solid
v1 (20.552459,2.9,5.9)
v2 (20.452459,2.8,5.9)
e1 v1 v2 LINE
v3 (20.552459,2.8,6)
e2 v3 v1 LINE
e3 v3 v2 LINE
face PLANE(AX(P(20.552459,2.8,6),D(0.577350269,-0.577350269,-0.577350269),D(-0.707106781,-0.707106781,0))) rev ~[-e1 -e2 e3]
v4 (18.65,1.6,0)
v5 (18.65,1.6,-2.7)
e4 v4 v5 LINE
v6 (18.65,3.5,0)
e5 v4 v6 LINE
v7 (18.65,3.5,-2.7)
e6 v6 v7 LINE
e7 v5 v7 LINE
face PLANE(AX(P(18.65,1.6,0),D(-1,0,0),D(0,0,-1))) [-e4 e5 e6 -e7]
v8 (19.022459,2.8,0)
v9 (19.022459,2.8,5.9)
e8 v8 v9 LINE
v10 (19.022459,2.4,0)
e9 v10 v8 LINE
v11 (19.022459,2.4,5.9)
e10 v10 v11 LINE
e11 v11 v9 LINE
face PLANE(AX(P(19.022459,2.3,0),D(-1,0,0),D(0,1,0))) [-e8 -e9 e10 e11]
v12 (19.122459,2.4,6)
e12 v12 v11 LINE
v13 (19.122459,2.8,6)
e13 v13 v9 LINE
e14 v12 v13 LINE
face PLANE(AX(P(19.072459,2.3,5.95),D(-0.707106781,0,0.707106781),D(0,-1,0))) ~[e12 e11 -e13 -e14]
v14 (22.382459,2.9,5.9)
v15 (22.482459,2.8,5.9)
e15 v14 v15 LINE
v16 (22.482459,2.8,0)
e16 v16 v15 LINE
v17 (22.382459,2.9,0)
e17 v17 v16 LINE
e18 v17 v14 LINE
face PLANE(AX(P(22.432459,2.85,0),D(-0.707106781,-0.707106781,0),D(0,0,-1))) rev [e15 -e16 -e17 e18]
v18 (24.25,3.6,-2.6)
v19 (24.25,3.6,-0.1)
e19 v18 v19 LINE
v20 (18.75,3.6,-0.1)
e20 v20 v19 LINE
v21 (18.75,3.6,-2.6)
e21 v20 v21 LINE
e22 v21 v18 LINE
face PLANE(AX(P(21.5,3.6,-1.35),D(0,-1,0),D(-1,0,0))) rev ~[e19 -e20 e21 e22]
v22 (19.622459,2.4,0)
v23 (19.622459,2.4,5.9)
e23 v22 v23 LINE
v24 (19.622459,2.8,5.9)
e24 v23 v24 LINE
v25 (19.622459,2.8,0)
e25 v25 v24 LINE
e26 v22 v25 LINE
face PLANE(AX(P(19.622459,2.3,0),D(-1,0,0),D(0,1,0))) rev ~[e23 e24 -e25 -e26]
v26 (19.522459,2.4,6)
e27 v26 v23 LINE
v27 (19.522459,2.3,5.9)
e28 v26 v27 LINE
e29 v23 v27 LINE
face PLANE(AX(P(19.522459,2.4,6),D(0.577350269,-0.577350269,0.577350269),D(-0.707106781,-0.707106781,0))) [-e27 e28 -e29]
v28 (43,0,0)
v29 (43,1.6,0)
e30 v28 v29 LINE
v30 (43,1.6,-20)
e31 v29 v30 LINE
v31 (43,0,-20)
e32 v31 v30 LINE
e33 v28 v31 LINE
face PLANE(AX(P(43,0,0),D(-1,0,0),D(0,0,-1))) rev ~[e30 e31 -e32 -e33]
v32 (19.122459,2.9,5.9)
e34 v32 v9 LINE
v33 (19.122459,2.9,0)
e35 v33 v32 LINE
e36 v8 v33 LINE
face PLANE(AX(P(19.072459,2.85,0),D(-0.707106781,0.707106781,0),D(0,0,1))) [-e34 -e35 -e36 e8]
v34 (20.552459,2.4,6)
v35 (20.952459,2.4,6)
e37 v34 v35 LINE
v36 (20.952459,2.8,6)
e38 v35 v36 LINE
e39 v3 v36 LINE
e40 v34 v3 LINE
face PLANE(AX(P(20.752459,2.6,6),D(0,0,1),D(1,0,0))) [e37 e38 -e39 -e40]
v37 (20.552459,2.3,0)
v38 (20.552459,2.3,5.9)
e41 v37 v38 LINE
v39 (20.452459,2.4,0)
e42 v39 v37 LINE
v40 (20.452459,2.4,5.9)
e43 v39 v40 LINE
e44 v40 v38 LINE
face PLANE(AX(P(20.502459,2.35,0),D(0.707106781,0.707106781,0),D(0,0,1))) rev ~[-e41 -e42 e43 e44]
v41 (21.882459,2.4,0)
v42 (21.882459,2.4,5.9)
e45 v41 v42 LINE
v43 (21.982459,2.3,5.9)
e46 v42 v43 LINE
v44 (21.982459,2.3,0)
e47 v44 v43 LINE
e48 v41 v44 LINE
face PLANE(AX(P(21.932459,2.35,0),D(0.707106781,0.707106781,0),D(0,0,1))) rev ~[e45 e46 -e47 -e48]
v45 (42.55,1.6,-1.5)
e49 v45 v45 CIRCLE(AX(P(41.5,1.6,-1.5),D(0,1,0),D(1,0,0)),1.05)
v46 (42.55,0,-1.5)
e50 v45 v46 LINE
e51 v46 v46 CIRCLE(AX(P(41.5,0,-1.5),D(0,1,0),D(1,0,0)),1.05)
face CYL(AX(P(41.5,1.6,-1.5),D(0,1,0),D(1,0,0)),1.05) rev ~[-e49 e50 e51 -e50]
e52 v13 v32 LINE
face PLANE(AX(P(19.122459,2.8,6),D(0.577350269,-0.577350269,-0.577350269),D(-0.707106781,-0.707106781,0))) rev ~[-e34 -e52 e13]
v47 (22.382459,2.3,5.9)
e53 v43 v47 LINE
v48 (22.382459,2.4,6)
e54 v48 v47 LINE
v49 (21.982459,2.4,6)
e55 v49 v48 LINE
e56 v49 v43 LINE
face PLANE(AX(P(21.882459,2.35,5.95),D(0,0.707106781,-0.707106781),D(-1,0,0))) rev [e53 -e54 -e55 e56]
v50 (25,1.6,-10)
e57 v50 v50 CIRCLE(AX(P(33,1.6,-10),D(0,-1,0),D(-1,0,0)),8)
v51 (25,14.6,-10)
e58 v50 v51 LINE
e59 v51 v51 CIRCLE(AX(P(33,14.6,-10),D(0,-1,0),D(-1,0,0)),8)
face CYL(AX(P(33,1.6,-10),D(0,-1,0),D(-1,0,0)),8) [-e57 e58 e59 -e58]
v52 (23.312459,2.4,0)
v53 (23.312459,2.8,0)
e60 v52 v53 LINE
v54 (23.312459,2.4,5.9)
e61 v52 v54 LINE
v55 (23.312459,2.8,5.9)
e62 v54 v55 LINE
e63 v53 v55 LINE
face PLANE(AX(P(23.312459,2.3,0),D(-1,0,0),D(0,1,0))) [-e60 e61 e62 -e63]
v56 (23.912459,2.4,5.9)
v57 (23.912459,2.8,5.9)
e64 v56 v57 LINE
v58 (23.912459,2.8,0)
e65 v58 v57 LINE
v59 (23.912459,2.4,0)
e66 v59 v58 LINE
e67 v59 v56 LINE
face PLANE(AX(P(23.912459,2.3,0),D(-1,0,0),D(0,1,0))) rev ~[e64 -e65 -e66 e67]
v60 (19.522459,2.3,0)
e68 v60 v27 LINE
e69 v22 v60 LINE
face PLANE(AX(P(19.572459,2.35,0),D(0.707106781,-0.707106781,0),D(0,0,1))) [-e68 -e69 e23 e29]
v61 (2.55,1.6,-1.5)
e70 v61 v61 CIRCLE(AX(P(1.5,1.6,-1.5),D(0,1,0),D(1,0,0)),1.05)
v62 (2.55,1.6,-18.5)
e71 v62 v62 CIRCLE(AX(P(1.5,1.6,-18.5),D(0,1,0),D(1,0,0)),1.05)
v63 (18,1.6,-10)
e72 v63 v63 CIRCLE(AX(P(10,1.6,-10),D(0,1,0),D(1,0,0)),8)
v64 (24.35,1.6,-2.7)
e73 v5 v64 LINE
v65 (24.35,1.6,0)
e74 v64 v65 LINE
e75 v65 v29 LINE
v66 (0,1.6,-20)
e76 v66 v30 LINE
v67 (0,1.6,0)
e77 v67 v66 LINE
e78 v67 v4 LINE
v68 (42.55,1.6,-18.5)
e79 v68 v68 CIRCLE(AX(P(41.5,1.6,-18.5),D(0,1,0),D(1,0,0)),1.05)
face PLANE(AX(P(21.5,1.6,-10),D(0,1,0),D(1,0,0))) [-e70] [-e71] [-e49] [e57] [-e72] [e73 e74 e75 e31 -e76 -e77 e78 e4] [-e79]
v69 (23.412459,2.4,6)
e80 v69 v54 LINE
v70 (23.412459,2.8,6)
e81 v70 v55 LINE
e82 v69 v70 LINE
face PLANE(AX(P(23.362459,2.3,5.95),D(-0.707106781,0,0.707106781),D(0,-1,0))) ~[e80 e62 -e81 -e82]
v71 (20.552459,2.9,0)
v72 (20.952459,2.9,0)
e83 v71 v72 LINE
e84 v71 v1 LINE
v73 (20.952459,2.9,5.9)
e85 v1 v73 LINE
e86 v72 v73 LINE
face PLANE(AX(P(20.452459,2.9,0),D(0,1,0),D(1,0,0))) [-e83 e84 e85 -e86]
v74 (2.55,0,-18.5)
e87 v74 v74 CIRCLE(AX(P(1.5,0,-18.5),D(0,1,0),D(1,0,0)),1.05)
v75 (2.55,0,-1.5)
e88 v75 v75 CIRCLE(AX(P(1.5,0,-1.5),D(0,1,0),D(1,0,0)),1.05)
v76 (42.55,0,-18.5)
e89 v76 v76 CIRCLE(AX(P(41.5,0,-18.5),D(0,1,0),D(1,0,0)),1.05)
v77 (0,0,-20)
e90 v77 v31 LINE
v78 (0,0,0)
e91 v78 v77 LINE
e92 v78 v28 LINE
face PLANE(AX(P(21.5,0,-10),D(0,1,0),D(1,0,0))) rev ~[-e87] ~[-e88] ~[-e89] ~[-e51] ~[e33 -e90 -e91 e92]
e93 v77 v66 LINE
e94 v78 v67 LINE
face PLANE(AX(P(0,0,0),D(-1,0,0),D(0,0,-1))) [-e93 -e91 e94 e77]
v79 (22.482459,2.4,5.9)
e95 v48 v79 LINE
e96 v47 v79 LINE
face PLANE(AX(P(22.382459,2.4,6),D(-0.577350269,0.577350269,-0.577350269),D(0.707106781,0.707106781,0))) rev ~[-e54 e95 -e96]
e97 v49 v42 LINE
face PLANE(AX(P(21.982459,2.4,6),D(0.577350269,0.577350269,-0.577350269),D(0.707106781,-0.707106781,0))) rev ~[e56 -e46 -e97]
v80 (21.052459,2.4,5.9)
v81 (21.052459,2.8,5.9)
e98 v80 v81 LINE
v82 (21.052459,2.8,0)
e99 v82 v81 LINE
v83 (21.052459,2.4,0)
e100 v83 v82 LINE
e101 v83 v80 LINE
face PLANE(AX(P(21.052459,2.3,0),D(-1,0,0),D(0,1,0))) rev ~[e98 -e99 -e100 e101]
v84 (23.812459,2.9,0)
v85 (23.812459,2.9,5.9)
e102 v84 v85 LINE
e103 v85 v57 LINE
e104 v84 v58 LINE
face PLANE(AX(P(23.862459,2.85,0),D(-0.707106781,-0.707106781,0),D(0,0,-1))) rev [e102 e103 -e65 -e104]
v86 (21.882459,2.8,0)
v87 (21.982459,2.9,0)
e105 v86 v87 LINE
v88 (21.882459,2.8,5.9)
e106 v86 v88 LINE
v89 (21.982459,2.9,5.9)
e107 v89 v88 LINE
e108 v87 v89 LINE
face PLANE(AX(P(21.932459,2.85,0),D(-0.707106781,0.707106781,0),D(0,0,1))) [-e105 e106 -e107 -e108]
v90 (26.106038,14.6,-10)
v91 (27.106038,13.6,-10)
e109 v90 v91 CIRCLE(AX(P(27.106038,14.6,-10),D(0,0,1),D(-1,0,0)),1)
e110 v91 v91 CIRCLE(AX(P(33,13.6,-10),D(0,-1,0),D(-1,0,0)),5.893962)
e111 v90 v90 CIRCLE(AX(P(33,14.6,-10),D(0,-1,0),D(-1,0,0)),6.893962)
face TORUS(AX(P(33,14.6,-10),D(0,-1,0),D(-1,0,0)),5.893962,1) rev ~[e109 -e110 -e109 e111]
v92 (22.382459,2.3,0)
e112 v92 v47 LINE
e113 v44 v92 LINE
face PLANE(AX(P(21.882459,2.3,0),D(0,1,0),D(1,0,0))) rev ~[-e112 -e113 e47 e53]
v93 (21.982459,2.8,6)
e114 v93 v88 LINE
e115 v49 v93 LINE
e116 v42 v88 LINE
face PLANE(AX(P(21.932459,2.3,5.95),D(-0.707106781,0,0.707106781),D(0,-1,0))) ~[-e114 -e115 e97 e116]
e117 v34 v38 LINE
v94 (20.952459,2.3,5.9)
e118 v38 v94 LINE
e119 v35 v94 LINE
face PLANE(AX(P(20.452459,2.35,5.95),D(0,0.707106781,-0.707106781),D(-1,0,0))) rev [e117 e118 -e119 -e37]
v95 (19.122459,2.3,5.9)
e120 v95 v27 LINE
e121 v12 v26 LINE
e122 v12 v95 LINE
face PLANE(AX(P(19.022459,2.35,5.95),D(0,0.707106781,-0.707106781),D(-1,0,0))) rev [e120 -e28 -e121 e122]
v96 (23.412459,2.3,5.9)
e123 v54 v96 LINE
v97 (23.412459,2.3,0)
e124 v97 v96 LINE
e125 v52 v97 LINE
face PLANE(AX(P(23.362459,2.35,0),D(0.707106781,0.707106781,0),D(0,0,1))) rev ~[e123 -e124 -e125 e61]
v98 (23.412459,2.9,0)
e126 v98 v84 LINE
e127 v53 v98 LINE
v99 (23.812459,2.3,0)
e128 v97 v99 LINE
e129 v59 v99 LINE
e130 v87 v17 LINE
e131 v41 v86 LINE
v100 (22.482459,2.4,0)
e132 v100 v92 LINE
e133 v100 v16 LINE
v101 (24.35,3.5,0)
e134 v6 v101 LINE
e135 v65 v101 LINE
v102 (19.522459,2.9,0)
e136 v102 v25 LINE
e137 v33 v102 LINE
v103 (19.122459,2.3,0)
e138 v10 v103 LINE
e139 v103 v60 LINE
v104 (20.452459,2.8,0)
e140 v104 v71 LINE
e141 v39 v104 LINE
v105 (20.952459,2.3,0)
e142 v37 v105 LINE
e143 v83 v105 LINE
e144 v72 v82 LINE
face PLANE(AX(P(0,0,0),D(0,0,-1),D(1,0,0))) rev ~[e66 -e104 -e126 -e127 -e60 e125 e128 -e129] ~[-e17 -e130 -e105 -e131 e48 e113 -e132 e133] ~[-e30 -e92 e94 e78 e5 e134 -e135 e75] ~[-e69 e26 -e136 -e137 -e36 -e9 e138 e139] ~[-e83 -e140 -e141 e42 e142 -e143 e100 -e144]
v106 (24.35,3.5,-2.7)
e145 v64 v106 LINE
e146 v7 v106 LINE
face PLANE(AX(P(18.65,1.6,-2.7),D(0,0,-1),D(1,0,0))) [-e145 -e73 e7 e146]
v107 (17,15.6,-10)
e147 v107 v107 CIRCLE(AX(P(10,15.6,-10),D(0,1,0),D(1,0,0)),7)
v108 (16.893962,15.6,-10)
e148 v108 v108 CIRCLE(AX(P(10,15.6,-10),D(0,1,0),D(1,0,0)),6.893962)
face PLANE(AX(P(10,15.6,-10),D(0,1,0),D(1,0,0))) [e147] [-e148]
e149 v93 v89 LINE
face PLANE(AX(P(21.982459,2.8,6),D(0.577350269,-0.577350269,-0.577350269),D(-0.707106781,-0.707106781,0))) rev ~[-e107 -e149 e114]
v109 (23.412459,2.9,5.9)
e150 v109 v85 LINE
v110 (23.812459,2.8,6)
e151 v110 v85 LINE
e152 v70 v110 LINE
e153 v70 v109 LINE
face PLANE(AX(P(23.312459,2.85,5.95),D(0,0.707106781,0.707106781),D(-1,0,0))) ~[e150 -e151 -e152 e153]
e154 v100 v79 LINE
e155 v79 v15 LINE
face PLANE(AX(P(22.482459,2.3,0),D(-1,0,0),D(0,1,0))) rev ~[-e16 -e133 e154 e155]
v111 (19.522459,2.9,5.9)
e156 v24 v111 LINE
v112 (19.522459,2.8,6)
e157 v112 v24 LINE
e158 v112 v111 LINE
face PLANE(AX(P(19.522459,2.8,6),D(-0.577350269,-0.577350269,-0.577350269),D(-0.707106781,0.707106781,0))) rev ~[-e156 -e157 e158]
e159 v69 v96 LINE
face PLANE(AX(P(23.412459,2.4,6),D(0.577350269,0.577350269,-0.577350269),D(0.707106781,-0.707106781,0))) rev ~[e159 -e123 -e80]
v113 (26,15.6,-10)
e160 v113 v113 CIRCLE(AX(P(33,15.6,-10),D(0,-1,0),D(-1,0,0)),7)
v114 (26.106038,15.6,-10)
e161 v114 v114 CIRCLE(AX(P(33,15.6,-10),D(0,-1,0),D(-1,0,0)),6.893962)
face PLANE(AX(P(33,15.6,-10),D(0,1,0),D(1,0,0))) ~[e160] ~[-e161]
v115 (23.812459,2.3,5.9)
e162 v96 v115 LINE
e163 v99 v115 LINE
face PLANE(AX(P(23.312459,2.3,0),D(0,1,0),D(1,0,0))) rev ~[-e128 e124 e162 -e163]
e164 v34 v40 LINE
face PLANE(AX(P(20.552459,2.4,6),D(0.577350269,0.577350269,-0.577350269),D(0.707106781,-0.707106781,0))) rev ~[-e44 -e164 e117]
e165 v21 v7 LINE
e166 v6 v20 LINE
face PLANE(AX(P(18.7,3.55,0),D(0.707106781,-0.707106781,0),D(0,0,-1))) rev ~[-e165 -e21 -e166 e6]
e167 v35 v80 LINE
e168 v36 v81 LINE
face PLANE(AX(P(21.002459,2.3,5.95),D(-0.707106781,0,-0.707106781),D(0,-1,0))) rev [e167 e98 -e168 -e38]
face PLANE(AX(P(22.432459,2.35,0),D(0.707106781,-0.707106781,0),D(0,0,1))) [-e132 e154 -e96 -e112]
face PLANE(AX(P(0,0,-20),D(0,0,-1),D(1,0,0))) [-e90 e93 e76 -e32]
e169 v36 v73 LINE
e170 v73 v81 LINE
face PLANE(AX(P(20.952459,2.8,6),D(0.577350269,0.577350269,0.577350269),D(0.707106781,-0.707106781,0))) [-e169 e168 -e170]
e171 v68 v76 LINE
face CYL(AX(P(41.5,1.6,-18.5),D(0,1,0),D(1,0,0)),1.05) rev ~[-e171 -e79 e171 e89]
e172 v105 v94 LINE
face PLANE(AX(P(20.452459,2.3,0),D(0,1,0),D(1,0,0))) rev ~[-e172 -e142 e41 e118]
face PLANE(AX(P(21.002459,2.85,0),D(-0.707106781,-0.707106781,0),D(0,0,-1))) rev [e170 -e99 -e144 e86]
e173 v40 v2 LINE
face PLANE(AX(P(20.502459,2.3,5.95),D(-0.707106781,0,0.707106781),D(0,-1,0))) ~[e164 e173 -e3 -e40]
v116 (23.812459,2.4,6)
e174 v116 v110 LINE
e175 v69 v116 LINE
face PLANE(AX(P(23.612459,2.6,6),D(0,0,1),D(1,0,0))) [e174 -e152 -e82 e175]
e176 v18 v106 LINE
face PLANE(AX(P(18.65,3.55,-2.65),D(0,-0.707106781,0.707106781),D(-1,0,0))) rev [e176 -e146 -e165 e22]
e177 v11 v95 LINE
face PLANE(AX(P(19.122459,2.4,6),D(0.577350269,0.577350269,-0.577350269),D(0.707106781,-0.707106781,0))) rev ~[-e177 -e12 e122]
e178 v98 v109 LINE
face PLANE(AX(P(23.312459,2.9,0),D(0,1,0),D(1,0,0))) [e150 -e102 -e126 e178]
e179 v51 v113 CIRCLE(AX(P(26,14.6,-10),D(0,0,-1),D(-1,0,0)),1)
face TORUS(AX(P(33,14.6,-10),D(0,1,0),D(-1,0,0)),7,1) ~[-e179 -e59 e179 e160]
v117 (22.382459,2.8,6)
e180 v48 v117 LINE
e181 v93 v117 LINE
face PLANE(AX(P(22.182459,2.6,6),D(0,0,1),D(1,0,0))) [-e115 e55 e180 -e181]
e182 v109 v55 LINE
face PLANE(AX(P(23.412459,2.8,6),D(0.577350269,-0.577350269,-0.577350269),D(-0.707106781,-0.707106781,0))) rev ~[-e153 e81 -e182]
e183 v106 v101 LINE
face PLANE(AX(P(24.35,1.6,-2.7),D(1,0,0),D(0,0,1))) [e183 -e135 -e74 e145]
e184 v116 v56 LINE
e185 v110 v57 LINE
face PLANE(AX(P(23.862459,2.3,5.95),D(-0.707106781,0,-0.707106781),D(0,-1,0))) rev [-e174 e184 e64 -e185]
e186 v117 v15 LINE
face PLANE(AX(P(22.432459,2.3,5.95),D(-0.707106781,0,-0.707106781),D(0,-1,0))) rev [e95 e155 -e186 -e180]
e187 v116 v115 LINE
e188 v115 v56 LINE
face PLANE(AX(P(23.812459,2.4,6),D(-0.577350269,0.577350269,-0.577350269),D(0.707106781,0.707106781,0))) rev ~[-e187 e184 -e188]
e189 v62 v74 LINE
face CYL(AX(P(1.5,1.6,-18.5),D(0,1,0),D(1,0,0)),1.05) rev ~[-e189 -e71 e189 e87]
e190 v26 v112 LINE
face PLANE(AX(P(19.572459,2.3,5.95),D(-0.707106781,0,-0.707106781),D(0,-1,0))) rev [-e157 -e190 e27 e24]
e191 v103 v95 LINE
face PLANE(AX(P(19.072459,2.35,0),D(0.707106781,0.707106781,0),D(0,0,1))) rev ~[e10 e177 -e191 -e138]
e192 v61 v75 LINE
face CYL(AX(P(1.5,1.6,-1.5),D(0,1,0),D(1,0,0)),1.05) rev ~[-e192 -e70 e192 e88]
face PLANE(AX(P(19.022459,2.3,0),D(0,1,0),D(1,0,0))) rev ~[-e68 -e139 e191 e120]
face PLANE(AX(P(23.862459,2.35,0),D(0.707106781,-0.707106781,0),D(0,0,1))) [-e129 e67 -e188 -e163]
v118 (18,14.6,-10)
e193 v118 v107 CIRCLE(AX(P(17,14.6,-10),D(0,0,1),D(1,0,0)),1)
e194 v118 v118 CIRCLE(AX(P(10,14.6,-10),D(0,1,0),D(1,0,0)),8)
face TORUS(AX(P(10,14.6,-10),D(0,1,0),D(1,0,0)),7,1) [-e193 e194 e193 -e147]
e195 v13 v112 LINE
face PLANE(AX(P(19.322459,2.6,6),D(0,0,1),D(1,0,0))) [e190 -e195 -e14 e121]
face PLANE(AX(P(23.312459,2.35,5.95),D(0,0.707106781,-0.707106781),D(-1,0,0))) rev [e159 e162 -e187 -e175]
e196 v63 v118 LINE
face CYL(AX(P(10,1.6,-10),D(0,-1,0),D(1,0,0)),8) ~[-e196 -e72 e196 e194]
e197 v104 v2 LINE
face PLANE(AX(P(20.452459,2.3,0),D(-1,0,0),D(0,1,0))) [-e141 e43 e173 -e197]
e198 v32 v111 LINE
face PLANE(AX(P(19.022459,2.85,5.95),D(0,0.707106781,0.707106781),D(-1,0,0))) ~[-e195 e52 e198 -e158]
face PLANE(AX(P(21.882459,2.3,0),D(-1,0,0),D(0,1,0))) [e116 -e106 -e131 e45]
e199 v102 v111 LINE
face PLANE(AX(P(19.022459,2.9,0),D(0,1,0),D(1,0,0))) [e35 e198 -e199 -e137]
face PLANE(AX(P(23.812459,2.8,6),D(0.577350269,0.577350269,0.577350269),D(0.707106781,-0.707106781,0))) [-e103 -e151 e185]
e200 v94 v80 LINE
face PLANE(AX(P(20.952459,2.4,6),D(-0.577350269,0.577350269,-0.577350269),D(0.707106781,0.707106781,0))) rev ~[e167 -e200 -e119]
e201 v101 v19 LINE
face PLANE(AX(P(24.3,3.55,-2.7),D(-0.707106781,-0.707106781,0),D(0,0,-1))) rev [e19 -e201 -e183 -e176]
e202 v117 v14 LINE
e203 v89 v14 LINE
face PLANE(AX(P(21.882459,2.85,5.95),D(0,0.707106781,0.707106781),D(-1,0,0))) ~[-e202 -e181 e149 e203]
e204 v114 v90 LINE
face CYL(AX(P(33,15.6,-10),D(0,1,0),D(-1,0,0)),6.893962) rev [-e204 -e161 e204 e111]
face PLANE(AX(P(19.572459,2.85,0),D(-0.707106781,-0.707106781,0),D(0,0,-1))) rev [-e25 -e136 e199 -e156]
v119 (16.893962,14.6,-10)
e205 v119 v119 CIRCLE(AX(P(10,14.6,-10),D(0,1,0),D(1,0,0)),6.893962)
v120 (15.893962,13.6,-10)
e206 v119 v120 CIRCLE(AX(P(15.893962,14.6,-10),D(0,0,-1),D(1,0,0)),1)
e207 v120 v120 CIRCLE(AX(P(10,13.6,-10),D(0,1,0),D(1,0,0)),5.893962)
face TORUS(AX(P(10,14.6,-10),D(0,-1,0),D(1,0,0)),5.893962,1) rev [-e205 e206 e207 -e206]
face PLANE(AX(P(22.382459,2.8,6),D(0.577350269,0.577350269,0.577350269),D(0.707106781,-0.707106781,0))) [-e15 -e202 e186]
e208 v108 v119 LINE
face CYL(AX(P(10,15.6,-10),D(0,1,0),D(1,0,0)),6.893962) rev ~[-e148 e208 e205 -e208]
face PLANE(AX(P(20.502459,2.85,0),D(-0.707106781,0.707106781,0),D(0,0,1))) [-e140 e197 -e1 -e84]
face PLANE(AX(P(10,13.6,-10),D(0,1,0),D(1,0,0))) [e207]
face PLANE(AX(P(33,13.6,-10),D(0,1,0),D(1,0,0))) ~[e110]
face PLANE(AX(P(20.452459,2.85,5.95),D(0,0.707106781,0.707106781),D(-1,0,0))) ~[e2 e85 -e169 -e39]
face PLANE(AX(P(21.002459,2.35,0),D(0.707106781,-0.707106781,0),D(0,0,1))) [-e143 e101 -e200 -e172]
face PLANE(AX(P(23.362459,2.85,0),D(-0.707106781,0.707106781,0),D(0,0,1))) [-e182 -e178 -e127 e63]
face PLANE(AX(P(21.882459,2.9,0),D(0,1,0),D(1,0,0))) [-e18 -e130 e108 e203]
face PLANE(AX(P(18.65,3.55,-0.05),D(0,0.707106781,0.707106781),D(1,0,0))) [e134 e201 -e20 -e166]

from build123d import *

# Parameters (mm, degrees)
SKETCH1_W            = 43
SKETCH1_H            = 20
BOSS_EXTRUDE1_DEPTH  = 1.6
SKETCH2_R            = 8
BOSS_EXTRUDE2_DEPTH  = 14
SKETCH3_R            = 6.893962295
CUT_EXTRUDE1_DEPTH   = 2
FILLET1_R            = 1
FILLET2_R            = 1
FILLET1_OF_MIRROR1_R = 1
FILLET2_OF_MIRROR1_R = 1
BOSS_EXTRUDE3_DEPTH  = 2
SKETCH5_W            = 0.6
SKETCH5_H            = 0.6
BOSS_EXTRUDE4_DEPTH  = 6
CHAMFER1_SIZE        = 0.1
CHAMFER2_SIZE        = 0.1
CUT_EXTRUDE2_REACH   = 51.447
SKETCH6_R            = 1.05


with BuildPart() as part:
    # Sketch1 → Boss-Extrude1 (new body)
    with BuildSketch(Plane(origin=(0, 0, 0), x_dir=(1, 0, 0), z_dir=(0, 1, 0))):
        with Locations((21.5, 10)):
            Rectangle(SKETCH1_W, SKETCH1_H)
    extrude(amount=BOSS_EXTRUDE1_DEPTH)

    # Sketch2 → Boss-Extrude2 (add)
    with BuildSketch(Plane(origin=(0, 1.6, 0), x_dir=(1, 0, 0), z_dir=(0, 1, 0))):
        with Locations((10, 10)):
            Circle(SKETCH2_R)
    boss_extrude2 = extrude(amount=BOSS_EXTRUDE2_DEPTH)

    # Sketch3 → Cut-Extrude1 (cut)
    with BuildSketch(Plane(origin=(0, 15.6, 0), x_dir=(1, 0, 0), z_dir=(0, 1, 0))):
        with Locations((10, 10)):
            Circle(SKETCH3_R)
    cut_extrude1 = extrude(amount=-CUT_EXTRUDE1_DEPTH, mode=Mode.SUBTRACT)

    # Fillet1
    fillet1_edges = [part.edges().sort_by_distance(p)[0] for p in [
        (2, 15.6, -10),
    ]]
    fillet(fillet1_edges, radius=FILLET1_R)

    # Fillet2
    fillet2_edges = [part.edges().sort_by_distance(p)[0] for p in [
        (3.106037705, 13.6, -10),
    ]]
    fillet(fillet2_edges, radius=FILLET2_R)

    # Mirror1: Boss-Extrude2, Cut-Extrude1 across plane
    add(boss_extrude2.mirror(Plane(origin=(21.5, 0, 0), x_dir=(0, 0, 1), z_dir=(1, 0, 0))))
    add(cut_extrude1.mirror(Plane(origin=(21.5, 0, 0), x_dir=(0, 0, 1), z_dir=(1, 0, 0))), mode=Mode.SUBTRACT)

    # Fillet1 of Mirror1
    fillet1_of_mirror1_edges = [part.edges().sort_by_distance(p)[0] for p in [
        (41, 15.6, -10),
    ]]
    fillet(fillet1_of_mirror1_edges, radius=FILLET1_OF_MIRROR1_R)

    # Fillet2 of Mirror1
    fillet2_of_mirror1_edges = [part.edges().sort_by_distance(p)[0] for p in [
        (39.893962295, 13.6, -10),
    ]]
    fillet(fillet2_of_mirror1_edges, radius=FILLET2_OF_MIRROR1_R)

    # Sketch4 → Boss-Extrude3 (add)
    with BuildSketch(Plane(origin=(0, 1.6, 0), x_dir=(1, 0, 0), z_dir=(0, 1, 0))):
        Polygon((21.5, 0), (18.65, 0), (18.65, 2.7), (24.35, 2.7), (24.35, 0), align=None)
    extrude(amount=BOSS_EXTRUDE3_DEPTH)

    # Sketch5 → Boss-Extrude4 (add)
    with BuildSketch(Plane.XY):
        with Locations((19.322458837, 2.6)):
            Rectangle(SKETCH5_W, SKETCH5_H)
        with Locations((20.752458837, 2.6)):
            Rectangle(SKETCH5_W, SKETCH5_H)
        with Locations((22.182458837, 2.6)):
            Rectangle(SKETCH5_W, SKETCH5_H)
        with Locations((23.612458837, 2.6)):
            Rectangle(SKETCH5_W, SKETCH5_H)
    extrude(amount=BOSS_EXTRUDE4_DEPTH)

    # Chamfer1
    chamfer1_edges = [part.edges().sort_by_distance(p)[0] for p in [
        (23.912458837, 2.6, 6),
        (23.912458837, 2.3, 3),
        (23.612458837, 2.3, 6),
        (23.312458837, 2.3, 3),
        (23.312458837, 2.6, 6),
        (23.912458837, 2.9, 3),
        (23.612458837, 2.9, 6),
        (23.312458837, 2.9, 3),
        (22.482458837, 2.6, 6),
        (22.482458837, 2.3, 3),
        (22.182458837, 2.3, 6),
        (21.882458837, 2.3, 3),
        (21.882458837, 2.6, 6),
        (21.882458837, 2.9, 3),
        (22.182458837, 2.9, 6),
        (22.482458837, 2.9, 3),
        (21.052458837, 2.6, 6),
        (21.052458837, 2.3, 3),
        (20.752458837, 2.3, 6),
        (20.452458837, 2.3, 3),
        (20.452458837, 2.6, 6),
        (21.052458837, 2.9, 3),
        (20.752458837, 2.9, 6),
        (20.452458837, 2.9, 3),
        (19.322458837, 2.3, 6),
        (19.022458837, 2.3, 3),
        (19.022458837, 2.6, 6),
        (19.022458837, 2.9, 3),
        (19.322458837, 2.9, 6),
        (19.622458837, 2.3, 3),
        (19.622458837, 2.6, 6),
        (19.622458837, 2.9, 3),
    ]]
    chamfer(chamfer1_edges, length=CHAMFER1_SIZE)

    # Chamfer2
    chamfer2_edges = [part.edges().sort_by_distance(p)[0] for p in [
        (18.65, 3.6, -1.35),
        (21.5, 3.6, -2.7),
        (24.35, 3.6, -1.35),
        (21.5, 3.6, 0),
    ]]
    chamfer(chamfer2_edges, length=CHAMFER2_SIZE)

    # Sketch6 → Cut-Extrude2 (cut, up to next)
    with BuildSketch(Plane(origin=(0, 1.6, 0), x_dir=(1, 0, 0), z_dir=(0, 1, 0)), mode=Mode.PRIVATE) as cut_extrude2_sk1:
        with Locations((1.5, 18.5)):
            Circle(SKETCH6_R)
    cut_extrude2_tool1 = extrude(cut_extrude2_sk1.sketch, amount=-CUT_EXTRUDE2_REACH, mode=Mode.PRIVATE) & part.part
    # Sketch6 → Cut-Extrude2 (cut, up to next)
    with BuildSketch(Plane(origin=(0, 1.6, 0), x_dir=(1, 0, 0), z_dir=(0, 1, 0)), mode=Mode.PRIVATE) as cut_extrude2_sk2:
        with Locations((1.5, 1.5)):
            Circle(SKETCH6_R)
    cut_extrude2_tool2 = extrude(cut_extrude2_sk2.sketch, amount=-CUT_EXTRUDE2_REACH, mode=Mode.PRIVATE) & part.part
    # Sketch6 → Cut-Extrude2 (cut, up to next)
    with BuildSketch(Plane(origin=(0, 1.6, 0), x_dir=(1, 0, 0), z_dir=(0, 1, 0)), mode=Mode.PRIVATE) as cut_extrude2_sk3:
        with Locations((41.5, 1.5)):
            Circle(SKETCH6_R)
    cut_extrude2_tool3 = extrude(cut_extrude2_sk3.sketch, amount=-CUT_EXTRUDE2_REACH, mode=Mode.PRIVATE) & part.part
    # Sketch6 → Cut-Extrude2 (cut, up to next)
    with BuildSketch(Plane(origin=(0, 1.6, 0), x_dir=(1, 0, 0), z_dir=(0, 1, 0)), mode=Mode.PRIVATE) as cut_extrude2_sk4:
        with Locations((41.5, 18.5)):
            Circle(SKETCH6_R)
    cut_extrude2_tool4 = extrude(cut_extrude2_sk4.sketch, amount=-CUT_EXTRUDE2_REACH, mode=Mode.PRIVATE) & part.part
    add(cut_extrude2_tool1.solids().sort_by_distance((1.5, 1.6, -18.5))[0], mode=Mode.SUBTRACT)
    add(cut_extrude2_tool2.solids().sort_by_distance((1.5, 1.6, -1.5))[0], mode=Mode.SUBTRACT)
    add(cut_extrude2_tool3.solids().sort_by_distance((41.5, 1.6, -1.5))[0], mode=Mode.SUBTRACT)
    add(cut_extrude2_tool4.solids().sort_by_distance((41.5, 1.6, -18.5))[0], mode=Mode.SUBTRACT)


solid = part.part
